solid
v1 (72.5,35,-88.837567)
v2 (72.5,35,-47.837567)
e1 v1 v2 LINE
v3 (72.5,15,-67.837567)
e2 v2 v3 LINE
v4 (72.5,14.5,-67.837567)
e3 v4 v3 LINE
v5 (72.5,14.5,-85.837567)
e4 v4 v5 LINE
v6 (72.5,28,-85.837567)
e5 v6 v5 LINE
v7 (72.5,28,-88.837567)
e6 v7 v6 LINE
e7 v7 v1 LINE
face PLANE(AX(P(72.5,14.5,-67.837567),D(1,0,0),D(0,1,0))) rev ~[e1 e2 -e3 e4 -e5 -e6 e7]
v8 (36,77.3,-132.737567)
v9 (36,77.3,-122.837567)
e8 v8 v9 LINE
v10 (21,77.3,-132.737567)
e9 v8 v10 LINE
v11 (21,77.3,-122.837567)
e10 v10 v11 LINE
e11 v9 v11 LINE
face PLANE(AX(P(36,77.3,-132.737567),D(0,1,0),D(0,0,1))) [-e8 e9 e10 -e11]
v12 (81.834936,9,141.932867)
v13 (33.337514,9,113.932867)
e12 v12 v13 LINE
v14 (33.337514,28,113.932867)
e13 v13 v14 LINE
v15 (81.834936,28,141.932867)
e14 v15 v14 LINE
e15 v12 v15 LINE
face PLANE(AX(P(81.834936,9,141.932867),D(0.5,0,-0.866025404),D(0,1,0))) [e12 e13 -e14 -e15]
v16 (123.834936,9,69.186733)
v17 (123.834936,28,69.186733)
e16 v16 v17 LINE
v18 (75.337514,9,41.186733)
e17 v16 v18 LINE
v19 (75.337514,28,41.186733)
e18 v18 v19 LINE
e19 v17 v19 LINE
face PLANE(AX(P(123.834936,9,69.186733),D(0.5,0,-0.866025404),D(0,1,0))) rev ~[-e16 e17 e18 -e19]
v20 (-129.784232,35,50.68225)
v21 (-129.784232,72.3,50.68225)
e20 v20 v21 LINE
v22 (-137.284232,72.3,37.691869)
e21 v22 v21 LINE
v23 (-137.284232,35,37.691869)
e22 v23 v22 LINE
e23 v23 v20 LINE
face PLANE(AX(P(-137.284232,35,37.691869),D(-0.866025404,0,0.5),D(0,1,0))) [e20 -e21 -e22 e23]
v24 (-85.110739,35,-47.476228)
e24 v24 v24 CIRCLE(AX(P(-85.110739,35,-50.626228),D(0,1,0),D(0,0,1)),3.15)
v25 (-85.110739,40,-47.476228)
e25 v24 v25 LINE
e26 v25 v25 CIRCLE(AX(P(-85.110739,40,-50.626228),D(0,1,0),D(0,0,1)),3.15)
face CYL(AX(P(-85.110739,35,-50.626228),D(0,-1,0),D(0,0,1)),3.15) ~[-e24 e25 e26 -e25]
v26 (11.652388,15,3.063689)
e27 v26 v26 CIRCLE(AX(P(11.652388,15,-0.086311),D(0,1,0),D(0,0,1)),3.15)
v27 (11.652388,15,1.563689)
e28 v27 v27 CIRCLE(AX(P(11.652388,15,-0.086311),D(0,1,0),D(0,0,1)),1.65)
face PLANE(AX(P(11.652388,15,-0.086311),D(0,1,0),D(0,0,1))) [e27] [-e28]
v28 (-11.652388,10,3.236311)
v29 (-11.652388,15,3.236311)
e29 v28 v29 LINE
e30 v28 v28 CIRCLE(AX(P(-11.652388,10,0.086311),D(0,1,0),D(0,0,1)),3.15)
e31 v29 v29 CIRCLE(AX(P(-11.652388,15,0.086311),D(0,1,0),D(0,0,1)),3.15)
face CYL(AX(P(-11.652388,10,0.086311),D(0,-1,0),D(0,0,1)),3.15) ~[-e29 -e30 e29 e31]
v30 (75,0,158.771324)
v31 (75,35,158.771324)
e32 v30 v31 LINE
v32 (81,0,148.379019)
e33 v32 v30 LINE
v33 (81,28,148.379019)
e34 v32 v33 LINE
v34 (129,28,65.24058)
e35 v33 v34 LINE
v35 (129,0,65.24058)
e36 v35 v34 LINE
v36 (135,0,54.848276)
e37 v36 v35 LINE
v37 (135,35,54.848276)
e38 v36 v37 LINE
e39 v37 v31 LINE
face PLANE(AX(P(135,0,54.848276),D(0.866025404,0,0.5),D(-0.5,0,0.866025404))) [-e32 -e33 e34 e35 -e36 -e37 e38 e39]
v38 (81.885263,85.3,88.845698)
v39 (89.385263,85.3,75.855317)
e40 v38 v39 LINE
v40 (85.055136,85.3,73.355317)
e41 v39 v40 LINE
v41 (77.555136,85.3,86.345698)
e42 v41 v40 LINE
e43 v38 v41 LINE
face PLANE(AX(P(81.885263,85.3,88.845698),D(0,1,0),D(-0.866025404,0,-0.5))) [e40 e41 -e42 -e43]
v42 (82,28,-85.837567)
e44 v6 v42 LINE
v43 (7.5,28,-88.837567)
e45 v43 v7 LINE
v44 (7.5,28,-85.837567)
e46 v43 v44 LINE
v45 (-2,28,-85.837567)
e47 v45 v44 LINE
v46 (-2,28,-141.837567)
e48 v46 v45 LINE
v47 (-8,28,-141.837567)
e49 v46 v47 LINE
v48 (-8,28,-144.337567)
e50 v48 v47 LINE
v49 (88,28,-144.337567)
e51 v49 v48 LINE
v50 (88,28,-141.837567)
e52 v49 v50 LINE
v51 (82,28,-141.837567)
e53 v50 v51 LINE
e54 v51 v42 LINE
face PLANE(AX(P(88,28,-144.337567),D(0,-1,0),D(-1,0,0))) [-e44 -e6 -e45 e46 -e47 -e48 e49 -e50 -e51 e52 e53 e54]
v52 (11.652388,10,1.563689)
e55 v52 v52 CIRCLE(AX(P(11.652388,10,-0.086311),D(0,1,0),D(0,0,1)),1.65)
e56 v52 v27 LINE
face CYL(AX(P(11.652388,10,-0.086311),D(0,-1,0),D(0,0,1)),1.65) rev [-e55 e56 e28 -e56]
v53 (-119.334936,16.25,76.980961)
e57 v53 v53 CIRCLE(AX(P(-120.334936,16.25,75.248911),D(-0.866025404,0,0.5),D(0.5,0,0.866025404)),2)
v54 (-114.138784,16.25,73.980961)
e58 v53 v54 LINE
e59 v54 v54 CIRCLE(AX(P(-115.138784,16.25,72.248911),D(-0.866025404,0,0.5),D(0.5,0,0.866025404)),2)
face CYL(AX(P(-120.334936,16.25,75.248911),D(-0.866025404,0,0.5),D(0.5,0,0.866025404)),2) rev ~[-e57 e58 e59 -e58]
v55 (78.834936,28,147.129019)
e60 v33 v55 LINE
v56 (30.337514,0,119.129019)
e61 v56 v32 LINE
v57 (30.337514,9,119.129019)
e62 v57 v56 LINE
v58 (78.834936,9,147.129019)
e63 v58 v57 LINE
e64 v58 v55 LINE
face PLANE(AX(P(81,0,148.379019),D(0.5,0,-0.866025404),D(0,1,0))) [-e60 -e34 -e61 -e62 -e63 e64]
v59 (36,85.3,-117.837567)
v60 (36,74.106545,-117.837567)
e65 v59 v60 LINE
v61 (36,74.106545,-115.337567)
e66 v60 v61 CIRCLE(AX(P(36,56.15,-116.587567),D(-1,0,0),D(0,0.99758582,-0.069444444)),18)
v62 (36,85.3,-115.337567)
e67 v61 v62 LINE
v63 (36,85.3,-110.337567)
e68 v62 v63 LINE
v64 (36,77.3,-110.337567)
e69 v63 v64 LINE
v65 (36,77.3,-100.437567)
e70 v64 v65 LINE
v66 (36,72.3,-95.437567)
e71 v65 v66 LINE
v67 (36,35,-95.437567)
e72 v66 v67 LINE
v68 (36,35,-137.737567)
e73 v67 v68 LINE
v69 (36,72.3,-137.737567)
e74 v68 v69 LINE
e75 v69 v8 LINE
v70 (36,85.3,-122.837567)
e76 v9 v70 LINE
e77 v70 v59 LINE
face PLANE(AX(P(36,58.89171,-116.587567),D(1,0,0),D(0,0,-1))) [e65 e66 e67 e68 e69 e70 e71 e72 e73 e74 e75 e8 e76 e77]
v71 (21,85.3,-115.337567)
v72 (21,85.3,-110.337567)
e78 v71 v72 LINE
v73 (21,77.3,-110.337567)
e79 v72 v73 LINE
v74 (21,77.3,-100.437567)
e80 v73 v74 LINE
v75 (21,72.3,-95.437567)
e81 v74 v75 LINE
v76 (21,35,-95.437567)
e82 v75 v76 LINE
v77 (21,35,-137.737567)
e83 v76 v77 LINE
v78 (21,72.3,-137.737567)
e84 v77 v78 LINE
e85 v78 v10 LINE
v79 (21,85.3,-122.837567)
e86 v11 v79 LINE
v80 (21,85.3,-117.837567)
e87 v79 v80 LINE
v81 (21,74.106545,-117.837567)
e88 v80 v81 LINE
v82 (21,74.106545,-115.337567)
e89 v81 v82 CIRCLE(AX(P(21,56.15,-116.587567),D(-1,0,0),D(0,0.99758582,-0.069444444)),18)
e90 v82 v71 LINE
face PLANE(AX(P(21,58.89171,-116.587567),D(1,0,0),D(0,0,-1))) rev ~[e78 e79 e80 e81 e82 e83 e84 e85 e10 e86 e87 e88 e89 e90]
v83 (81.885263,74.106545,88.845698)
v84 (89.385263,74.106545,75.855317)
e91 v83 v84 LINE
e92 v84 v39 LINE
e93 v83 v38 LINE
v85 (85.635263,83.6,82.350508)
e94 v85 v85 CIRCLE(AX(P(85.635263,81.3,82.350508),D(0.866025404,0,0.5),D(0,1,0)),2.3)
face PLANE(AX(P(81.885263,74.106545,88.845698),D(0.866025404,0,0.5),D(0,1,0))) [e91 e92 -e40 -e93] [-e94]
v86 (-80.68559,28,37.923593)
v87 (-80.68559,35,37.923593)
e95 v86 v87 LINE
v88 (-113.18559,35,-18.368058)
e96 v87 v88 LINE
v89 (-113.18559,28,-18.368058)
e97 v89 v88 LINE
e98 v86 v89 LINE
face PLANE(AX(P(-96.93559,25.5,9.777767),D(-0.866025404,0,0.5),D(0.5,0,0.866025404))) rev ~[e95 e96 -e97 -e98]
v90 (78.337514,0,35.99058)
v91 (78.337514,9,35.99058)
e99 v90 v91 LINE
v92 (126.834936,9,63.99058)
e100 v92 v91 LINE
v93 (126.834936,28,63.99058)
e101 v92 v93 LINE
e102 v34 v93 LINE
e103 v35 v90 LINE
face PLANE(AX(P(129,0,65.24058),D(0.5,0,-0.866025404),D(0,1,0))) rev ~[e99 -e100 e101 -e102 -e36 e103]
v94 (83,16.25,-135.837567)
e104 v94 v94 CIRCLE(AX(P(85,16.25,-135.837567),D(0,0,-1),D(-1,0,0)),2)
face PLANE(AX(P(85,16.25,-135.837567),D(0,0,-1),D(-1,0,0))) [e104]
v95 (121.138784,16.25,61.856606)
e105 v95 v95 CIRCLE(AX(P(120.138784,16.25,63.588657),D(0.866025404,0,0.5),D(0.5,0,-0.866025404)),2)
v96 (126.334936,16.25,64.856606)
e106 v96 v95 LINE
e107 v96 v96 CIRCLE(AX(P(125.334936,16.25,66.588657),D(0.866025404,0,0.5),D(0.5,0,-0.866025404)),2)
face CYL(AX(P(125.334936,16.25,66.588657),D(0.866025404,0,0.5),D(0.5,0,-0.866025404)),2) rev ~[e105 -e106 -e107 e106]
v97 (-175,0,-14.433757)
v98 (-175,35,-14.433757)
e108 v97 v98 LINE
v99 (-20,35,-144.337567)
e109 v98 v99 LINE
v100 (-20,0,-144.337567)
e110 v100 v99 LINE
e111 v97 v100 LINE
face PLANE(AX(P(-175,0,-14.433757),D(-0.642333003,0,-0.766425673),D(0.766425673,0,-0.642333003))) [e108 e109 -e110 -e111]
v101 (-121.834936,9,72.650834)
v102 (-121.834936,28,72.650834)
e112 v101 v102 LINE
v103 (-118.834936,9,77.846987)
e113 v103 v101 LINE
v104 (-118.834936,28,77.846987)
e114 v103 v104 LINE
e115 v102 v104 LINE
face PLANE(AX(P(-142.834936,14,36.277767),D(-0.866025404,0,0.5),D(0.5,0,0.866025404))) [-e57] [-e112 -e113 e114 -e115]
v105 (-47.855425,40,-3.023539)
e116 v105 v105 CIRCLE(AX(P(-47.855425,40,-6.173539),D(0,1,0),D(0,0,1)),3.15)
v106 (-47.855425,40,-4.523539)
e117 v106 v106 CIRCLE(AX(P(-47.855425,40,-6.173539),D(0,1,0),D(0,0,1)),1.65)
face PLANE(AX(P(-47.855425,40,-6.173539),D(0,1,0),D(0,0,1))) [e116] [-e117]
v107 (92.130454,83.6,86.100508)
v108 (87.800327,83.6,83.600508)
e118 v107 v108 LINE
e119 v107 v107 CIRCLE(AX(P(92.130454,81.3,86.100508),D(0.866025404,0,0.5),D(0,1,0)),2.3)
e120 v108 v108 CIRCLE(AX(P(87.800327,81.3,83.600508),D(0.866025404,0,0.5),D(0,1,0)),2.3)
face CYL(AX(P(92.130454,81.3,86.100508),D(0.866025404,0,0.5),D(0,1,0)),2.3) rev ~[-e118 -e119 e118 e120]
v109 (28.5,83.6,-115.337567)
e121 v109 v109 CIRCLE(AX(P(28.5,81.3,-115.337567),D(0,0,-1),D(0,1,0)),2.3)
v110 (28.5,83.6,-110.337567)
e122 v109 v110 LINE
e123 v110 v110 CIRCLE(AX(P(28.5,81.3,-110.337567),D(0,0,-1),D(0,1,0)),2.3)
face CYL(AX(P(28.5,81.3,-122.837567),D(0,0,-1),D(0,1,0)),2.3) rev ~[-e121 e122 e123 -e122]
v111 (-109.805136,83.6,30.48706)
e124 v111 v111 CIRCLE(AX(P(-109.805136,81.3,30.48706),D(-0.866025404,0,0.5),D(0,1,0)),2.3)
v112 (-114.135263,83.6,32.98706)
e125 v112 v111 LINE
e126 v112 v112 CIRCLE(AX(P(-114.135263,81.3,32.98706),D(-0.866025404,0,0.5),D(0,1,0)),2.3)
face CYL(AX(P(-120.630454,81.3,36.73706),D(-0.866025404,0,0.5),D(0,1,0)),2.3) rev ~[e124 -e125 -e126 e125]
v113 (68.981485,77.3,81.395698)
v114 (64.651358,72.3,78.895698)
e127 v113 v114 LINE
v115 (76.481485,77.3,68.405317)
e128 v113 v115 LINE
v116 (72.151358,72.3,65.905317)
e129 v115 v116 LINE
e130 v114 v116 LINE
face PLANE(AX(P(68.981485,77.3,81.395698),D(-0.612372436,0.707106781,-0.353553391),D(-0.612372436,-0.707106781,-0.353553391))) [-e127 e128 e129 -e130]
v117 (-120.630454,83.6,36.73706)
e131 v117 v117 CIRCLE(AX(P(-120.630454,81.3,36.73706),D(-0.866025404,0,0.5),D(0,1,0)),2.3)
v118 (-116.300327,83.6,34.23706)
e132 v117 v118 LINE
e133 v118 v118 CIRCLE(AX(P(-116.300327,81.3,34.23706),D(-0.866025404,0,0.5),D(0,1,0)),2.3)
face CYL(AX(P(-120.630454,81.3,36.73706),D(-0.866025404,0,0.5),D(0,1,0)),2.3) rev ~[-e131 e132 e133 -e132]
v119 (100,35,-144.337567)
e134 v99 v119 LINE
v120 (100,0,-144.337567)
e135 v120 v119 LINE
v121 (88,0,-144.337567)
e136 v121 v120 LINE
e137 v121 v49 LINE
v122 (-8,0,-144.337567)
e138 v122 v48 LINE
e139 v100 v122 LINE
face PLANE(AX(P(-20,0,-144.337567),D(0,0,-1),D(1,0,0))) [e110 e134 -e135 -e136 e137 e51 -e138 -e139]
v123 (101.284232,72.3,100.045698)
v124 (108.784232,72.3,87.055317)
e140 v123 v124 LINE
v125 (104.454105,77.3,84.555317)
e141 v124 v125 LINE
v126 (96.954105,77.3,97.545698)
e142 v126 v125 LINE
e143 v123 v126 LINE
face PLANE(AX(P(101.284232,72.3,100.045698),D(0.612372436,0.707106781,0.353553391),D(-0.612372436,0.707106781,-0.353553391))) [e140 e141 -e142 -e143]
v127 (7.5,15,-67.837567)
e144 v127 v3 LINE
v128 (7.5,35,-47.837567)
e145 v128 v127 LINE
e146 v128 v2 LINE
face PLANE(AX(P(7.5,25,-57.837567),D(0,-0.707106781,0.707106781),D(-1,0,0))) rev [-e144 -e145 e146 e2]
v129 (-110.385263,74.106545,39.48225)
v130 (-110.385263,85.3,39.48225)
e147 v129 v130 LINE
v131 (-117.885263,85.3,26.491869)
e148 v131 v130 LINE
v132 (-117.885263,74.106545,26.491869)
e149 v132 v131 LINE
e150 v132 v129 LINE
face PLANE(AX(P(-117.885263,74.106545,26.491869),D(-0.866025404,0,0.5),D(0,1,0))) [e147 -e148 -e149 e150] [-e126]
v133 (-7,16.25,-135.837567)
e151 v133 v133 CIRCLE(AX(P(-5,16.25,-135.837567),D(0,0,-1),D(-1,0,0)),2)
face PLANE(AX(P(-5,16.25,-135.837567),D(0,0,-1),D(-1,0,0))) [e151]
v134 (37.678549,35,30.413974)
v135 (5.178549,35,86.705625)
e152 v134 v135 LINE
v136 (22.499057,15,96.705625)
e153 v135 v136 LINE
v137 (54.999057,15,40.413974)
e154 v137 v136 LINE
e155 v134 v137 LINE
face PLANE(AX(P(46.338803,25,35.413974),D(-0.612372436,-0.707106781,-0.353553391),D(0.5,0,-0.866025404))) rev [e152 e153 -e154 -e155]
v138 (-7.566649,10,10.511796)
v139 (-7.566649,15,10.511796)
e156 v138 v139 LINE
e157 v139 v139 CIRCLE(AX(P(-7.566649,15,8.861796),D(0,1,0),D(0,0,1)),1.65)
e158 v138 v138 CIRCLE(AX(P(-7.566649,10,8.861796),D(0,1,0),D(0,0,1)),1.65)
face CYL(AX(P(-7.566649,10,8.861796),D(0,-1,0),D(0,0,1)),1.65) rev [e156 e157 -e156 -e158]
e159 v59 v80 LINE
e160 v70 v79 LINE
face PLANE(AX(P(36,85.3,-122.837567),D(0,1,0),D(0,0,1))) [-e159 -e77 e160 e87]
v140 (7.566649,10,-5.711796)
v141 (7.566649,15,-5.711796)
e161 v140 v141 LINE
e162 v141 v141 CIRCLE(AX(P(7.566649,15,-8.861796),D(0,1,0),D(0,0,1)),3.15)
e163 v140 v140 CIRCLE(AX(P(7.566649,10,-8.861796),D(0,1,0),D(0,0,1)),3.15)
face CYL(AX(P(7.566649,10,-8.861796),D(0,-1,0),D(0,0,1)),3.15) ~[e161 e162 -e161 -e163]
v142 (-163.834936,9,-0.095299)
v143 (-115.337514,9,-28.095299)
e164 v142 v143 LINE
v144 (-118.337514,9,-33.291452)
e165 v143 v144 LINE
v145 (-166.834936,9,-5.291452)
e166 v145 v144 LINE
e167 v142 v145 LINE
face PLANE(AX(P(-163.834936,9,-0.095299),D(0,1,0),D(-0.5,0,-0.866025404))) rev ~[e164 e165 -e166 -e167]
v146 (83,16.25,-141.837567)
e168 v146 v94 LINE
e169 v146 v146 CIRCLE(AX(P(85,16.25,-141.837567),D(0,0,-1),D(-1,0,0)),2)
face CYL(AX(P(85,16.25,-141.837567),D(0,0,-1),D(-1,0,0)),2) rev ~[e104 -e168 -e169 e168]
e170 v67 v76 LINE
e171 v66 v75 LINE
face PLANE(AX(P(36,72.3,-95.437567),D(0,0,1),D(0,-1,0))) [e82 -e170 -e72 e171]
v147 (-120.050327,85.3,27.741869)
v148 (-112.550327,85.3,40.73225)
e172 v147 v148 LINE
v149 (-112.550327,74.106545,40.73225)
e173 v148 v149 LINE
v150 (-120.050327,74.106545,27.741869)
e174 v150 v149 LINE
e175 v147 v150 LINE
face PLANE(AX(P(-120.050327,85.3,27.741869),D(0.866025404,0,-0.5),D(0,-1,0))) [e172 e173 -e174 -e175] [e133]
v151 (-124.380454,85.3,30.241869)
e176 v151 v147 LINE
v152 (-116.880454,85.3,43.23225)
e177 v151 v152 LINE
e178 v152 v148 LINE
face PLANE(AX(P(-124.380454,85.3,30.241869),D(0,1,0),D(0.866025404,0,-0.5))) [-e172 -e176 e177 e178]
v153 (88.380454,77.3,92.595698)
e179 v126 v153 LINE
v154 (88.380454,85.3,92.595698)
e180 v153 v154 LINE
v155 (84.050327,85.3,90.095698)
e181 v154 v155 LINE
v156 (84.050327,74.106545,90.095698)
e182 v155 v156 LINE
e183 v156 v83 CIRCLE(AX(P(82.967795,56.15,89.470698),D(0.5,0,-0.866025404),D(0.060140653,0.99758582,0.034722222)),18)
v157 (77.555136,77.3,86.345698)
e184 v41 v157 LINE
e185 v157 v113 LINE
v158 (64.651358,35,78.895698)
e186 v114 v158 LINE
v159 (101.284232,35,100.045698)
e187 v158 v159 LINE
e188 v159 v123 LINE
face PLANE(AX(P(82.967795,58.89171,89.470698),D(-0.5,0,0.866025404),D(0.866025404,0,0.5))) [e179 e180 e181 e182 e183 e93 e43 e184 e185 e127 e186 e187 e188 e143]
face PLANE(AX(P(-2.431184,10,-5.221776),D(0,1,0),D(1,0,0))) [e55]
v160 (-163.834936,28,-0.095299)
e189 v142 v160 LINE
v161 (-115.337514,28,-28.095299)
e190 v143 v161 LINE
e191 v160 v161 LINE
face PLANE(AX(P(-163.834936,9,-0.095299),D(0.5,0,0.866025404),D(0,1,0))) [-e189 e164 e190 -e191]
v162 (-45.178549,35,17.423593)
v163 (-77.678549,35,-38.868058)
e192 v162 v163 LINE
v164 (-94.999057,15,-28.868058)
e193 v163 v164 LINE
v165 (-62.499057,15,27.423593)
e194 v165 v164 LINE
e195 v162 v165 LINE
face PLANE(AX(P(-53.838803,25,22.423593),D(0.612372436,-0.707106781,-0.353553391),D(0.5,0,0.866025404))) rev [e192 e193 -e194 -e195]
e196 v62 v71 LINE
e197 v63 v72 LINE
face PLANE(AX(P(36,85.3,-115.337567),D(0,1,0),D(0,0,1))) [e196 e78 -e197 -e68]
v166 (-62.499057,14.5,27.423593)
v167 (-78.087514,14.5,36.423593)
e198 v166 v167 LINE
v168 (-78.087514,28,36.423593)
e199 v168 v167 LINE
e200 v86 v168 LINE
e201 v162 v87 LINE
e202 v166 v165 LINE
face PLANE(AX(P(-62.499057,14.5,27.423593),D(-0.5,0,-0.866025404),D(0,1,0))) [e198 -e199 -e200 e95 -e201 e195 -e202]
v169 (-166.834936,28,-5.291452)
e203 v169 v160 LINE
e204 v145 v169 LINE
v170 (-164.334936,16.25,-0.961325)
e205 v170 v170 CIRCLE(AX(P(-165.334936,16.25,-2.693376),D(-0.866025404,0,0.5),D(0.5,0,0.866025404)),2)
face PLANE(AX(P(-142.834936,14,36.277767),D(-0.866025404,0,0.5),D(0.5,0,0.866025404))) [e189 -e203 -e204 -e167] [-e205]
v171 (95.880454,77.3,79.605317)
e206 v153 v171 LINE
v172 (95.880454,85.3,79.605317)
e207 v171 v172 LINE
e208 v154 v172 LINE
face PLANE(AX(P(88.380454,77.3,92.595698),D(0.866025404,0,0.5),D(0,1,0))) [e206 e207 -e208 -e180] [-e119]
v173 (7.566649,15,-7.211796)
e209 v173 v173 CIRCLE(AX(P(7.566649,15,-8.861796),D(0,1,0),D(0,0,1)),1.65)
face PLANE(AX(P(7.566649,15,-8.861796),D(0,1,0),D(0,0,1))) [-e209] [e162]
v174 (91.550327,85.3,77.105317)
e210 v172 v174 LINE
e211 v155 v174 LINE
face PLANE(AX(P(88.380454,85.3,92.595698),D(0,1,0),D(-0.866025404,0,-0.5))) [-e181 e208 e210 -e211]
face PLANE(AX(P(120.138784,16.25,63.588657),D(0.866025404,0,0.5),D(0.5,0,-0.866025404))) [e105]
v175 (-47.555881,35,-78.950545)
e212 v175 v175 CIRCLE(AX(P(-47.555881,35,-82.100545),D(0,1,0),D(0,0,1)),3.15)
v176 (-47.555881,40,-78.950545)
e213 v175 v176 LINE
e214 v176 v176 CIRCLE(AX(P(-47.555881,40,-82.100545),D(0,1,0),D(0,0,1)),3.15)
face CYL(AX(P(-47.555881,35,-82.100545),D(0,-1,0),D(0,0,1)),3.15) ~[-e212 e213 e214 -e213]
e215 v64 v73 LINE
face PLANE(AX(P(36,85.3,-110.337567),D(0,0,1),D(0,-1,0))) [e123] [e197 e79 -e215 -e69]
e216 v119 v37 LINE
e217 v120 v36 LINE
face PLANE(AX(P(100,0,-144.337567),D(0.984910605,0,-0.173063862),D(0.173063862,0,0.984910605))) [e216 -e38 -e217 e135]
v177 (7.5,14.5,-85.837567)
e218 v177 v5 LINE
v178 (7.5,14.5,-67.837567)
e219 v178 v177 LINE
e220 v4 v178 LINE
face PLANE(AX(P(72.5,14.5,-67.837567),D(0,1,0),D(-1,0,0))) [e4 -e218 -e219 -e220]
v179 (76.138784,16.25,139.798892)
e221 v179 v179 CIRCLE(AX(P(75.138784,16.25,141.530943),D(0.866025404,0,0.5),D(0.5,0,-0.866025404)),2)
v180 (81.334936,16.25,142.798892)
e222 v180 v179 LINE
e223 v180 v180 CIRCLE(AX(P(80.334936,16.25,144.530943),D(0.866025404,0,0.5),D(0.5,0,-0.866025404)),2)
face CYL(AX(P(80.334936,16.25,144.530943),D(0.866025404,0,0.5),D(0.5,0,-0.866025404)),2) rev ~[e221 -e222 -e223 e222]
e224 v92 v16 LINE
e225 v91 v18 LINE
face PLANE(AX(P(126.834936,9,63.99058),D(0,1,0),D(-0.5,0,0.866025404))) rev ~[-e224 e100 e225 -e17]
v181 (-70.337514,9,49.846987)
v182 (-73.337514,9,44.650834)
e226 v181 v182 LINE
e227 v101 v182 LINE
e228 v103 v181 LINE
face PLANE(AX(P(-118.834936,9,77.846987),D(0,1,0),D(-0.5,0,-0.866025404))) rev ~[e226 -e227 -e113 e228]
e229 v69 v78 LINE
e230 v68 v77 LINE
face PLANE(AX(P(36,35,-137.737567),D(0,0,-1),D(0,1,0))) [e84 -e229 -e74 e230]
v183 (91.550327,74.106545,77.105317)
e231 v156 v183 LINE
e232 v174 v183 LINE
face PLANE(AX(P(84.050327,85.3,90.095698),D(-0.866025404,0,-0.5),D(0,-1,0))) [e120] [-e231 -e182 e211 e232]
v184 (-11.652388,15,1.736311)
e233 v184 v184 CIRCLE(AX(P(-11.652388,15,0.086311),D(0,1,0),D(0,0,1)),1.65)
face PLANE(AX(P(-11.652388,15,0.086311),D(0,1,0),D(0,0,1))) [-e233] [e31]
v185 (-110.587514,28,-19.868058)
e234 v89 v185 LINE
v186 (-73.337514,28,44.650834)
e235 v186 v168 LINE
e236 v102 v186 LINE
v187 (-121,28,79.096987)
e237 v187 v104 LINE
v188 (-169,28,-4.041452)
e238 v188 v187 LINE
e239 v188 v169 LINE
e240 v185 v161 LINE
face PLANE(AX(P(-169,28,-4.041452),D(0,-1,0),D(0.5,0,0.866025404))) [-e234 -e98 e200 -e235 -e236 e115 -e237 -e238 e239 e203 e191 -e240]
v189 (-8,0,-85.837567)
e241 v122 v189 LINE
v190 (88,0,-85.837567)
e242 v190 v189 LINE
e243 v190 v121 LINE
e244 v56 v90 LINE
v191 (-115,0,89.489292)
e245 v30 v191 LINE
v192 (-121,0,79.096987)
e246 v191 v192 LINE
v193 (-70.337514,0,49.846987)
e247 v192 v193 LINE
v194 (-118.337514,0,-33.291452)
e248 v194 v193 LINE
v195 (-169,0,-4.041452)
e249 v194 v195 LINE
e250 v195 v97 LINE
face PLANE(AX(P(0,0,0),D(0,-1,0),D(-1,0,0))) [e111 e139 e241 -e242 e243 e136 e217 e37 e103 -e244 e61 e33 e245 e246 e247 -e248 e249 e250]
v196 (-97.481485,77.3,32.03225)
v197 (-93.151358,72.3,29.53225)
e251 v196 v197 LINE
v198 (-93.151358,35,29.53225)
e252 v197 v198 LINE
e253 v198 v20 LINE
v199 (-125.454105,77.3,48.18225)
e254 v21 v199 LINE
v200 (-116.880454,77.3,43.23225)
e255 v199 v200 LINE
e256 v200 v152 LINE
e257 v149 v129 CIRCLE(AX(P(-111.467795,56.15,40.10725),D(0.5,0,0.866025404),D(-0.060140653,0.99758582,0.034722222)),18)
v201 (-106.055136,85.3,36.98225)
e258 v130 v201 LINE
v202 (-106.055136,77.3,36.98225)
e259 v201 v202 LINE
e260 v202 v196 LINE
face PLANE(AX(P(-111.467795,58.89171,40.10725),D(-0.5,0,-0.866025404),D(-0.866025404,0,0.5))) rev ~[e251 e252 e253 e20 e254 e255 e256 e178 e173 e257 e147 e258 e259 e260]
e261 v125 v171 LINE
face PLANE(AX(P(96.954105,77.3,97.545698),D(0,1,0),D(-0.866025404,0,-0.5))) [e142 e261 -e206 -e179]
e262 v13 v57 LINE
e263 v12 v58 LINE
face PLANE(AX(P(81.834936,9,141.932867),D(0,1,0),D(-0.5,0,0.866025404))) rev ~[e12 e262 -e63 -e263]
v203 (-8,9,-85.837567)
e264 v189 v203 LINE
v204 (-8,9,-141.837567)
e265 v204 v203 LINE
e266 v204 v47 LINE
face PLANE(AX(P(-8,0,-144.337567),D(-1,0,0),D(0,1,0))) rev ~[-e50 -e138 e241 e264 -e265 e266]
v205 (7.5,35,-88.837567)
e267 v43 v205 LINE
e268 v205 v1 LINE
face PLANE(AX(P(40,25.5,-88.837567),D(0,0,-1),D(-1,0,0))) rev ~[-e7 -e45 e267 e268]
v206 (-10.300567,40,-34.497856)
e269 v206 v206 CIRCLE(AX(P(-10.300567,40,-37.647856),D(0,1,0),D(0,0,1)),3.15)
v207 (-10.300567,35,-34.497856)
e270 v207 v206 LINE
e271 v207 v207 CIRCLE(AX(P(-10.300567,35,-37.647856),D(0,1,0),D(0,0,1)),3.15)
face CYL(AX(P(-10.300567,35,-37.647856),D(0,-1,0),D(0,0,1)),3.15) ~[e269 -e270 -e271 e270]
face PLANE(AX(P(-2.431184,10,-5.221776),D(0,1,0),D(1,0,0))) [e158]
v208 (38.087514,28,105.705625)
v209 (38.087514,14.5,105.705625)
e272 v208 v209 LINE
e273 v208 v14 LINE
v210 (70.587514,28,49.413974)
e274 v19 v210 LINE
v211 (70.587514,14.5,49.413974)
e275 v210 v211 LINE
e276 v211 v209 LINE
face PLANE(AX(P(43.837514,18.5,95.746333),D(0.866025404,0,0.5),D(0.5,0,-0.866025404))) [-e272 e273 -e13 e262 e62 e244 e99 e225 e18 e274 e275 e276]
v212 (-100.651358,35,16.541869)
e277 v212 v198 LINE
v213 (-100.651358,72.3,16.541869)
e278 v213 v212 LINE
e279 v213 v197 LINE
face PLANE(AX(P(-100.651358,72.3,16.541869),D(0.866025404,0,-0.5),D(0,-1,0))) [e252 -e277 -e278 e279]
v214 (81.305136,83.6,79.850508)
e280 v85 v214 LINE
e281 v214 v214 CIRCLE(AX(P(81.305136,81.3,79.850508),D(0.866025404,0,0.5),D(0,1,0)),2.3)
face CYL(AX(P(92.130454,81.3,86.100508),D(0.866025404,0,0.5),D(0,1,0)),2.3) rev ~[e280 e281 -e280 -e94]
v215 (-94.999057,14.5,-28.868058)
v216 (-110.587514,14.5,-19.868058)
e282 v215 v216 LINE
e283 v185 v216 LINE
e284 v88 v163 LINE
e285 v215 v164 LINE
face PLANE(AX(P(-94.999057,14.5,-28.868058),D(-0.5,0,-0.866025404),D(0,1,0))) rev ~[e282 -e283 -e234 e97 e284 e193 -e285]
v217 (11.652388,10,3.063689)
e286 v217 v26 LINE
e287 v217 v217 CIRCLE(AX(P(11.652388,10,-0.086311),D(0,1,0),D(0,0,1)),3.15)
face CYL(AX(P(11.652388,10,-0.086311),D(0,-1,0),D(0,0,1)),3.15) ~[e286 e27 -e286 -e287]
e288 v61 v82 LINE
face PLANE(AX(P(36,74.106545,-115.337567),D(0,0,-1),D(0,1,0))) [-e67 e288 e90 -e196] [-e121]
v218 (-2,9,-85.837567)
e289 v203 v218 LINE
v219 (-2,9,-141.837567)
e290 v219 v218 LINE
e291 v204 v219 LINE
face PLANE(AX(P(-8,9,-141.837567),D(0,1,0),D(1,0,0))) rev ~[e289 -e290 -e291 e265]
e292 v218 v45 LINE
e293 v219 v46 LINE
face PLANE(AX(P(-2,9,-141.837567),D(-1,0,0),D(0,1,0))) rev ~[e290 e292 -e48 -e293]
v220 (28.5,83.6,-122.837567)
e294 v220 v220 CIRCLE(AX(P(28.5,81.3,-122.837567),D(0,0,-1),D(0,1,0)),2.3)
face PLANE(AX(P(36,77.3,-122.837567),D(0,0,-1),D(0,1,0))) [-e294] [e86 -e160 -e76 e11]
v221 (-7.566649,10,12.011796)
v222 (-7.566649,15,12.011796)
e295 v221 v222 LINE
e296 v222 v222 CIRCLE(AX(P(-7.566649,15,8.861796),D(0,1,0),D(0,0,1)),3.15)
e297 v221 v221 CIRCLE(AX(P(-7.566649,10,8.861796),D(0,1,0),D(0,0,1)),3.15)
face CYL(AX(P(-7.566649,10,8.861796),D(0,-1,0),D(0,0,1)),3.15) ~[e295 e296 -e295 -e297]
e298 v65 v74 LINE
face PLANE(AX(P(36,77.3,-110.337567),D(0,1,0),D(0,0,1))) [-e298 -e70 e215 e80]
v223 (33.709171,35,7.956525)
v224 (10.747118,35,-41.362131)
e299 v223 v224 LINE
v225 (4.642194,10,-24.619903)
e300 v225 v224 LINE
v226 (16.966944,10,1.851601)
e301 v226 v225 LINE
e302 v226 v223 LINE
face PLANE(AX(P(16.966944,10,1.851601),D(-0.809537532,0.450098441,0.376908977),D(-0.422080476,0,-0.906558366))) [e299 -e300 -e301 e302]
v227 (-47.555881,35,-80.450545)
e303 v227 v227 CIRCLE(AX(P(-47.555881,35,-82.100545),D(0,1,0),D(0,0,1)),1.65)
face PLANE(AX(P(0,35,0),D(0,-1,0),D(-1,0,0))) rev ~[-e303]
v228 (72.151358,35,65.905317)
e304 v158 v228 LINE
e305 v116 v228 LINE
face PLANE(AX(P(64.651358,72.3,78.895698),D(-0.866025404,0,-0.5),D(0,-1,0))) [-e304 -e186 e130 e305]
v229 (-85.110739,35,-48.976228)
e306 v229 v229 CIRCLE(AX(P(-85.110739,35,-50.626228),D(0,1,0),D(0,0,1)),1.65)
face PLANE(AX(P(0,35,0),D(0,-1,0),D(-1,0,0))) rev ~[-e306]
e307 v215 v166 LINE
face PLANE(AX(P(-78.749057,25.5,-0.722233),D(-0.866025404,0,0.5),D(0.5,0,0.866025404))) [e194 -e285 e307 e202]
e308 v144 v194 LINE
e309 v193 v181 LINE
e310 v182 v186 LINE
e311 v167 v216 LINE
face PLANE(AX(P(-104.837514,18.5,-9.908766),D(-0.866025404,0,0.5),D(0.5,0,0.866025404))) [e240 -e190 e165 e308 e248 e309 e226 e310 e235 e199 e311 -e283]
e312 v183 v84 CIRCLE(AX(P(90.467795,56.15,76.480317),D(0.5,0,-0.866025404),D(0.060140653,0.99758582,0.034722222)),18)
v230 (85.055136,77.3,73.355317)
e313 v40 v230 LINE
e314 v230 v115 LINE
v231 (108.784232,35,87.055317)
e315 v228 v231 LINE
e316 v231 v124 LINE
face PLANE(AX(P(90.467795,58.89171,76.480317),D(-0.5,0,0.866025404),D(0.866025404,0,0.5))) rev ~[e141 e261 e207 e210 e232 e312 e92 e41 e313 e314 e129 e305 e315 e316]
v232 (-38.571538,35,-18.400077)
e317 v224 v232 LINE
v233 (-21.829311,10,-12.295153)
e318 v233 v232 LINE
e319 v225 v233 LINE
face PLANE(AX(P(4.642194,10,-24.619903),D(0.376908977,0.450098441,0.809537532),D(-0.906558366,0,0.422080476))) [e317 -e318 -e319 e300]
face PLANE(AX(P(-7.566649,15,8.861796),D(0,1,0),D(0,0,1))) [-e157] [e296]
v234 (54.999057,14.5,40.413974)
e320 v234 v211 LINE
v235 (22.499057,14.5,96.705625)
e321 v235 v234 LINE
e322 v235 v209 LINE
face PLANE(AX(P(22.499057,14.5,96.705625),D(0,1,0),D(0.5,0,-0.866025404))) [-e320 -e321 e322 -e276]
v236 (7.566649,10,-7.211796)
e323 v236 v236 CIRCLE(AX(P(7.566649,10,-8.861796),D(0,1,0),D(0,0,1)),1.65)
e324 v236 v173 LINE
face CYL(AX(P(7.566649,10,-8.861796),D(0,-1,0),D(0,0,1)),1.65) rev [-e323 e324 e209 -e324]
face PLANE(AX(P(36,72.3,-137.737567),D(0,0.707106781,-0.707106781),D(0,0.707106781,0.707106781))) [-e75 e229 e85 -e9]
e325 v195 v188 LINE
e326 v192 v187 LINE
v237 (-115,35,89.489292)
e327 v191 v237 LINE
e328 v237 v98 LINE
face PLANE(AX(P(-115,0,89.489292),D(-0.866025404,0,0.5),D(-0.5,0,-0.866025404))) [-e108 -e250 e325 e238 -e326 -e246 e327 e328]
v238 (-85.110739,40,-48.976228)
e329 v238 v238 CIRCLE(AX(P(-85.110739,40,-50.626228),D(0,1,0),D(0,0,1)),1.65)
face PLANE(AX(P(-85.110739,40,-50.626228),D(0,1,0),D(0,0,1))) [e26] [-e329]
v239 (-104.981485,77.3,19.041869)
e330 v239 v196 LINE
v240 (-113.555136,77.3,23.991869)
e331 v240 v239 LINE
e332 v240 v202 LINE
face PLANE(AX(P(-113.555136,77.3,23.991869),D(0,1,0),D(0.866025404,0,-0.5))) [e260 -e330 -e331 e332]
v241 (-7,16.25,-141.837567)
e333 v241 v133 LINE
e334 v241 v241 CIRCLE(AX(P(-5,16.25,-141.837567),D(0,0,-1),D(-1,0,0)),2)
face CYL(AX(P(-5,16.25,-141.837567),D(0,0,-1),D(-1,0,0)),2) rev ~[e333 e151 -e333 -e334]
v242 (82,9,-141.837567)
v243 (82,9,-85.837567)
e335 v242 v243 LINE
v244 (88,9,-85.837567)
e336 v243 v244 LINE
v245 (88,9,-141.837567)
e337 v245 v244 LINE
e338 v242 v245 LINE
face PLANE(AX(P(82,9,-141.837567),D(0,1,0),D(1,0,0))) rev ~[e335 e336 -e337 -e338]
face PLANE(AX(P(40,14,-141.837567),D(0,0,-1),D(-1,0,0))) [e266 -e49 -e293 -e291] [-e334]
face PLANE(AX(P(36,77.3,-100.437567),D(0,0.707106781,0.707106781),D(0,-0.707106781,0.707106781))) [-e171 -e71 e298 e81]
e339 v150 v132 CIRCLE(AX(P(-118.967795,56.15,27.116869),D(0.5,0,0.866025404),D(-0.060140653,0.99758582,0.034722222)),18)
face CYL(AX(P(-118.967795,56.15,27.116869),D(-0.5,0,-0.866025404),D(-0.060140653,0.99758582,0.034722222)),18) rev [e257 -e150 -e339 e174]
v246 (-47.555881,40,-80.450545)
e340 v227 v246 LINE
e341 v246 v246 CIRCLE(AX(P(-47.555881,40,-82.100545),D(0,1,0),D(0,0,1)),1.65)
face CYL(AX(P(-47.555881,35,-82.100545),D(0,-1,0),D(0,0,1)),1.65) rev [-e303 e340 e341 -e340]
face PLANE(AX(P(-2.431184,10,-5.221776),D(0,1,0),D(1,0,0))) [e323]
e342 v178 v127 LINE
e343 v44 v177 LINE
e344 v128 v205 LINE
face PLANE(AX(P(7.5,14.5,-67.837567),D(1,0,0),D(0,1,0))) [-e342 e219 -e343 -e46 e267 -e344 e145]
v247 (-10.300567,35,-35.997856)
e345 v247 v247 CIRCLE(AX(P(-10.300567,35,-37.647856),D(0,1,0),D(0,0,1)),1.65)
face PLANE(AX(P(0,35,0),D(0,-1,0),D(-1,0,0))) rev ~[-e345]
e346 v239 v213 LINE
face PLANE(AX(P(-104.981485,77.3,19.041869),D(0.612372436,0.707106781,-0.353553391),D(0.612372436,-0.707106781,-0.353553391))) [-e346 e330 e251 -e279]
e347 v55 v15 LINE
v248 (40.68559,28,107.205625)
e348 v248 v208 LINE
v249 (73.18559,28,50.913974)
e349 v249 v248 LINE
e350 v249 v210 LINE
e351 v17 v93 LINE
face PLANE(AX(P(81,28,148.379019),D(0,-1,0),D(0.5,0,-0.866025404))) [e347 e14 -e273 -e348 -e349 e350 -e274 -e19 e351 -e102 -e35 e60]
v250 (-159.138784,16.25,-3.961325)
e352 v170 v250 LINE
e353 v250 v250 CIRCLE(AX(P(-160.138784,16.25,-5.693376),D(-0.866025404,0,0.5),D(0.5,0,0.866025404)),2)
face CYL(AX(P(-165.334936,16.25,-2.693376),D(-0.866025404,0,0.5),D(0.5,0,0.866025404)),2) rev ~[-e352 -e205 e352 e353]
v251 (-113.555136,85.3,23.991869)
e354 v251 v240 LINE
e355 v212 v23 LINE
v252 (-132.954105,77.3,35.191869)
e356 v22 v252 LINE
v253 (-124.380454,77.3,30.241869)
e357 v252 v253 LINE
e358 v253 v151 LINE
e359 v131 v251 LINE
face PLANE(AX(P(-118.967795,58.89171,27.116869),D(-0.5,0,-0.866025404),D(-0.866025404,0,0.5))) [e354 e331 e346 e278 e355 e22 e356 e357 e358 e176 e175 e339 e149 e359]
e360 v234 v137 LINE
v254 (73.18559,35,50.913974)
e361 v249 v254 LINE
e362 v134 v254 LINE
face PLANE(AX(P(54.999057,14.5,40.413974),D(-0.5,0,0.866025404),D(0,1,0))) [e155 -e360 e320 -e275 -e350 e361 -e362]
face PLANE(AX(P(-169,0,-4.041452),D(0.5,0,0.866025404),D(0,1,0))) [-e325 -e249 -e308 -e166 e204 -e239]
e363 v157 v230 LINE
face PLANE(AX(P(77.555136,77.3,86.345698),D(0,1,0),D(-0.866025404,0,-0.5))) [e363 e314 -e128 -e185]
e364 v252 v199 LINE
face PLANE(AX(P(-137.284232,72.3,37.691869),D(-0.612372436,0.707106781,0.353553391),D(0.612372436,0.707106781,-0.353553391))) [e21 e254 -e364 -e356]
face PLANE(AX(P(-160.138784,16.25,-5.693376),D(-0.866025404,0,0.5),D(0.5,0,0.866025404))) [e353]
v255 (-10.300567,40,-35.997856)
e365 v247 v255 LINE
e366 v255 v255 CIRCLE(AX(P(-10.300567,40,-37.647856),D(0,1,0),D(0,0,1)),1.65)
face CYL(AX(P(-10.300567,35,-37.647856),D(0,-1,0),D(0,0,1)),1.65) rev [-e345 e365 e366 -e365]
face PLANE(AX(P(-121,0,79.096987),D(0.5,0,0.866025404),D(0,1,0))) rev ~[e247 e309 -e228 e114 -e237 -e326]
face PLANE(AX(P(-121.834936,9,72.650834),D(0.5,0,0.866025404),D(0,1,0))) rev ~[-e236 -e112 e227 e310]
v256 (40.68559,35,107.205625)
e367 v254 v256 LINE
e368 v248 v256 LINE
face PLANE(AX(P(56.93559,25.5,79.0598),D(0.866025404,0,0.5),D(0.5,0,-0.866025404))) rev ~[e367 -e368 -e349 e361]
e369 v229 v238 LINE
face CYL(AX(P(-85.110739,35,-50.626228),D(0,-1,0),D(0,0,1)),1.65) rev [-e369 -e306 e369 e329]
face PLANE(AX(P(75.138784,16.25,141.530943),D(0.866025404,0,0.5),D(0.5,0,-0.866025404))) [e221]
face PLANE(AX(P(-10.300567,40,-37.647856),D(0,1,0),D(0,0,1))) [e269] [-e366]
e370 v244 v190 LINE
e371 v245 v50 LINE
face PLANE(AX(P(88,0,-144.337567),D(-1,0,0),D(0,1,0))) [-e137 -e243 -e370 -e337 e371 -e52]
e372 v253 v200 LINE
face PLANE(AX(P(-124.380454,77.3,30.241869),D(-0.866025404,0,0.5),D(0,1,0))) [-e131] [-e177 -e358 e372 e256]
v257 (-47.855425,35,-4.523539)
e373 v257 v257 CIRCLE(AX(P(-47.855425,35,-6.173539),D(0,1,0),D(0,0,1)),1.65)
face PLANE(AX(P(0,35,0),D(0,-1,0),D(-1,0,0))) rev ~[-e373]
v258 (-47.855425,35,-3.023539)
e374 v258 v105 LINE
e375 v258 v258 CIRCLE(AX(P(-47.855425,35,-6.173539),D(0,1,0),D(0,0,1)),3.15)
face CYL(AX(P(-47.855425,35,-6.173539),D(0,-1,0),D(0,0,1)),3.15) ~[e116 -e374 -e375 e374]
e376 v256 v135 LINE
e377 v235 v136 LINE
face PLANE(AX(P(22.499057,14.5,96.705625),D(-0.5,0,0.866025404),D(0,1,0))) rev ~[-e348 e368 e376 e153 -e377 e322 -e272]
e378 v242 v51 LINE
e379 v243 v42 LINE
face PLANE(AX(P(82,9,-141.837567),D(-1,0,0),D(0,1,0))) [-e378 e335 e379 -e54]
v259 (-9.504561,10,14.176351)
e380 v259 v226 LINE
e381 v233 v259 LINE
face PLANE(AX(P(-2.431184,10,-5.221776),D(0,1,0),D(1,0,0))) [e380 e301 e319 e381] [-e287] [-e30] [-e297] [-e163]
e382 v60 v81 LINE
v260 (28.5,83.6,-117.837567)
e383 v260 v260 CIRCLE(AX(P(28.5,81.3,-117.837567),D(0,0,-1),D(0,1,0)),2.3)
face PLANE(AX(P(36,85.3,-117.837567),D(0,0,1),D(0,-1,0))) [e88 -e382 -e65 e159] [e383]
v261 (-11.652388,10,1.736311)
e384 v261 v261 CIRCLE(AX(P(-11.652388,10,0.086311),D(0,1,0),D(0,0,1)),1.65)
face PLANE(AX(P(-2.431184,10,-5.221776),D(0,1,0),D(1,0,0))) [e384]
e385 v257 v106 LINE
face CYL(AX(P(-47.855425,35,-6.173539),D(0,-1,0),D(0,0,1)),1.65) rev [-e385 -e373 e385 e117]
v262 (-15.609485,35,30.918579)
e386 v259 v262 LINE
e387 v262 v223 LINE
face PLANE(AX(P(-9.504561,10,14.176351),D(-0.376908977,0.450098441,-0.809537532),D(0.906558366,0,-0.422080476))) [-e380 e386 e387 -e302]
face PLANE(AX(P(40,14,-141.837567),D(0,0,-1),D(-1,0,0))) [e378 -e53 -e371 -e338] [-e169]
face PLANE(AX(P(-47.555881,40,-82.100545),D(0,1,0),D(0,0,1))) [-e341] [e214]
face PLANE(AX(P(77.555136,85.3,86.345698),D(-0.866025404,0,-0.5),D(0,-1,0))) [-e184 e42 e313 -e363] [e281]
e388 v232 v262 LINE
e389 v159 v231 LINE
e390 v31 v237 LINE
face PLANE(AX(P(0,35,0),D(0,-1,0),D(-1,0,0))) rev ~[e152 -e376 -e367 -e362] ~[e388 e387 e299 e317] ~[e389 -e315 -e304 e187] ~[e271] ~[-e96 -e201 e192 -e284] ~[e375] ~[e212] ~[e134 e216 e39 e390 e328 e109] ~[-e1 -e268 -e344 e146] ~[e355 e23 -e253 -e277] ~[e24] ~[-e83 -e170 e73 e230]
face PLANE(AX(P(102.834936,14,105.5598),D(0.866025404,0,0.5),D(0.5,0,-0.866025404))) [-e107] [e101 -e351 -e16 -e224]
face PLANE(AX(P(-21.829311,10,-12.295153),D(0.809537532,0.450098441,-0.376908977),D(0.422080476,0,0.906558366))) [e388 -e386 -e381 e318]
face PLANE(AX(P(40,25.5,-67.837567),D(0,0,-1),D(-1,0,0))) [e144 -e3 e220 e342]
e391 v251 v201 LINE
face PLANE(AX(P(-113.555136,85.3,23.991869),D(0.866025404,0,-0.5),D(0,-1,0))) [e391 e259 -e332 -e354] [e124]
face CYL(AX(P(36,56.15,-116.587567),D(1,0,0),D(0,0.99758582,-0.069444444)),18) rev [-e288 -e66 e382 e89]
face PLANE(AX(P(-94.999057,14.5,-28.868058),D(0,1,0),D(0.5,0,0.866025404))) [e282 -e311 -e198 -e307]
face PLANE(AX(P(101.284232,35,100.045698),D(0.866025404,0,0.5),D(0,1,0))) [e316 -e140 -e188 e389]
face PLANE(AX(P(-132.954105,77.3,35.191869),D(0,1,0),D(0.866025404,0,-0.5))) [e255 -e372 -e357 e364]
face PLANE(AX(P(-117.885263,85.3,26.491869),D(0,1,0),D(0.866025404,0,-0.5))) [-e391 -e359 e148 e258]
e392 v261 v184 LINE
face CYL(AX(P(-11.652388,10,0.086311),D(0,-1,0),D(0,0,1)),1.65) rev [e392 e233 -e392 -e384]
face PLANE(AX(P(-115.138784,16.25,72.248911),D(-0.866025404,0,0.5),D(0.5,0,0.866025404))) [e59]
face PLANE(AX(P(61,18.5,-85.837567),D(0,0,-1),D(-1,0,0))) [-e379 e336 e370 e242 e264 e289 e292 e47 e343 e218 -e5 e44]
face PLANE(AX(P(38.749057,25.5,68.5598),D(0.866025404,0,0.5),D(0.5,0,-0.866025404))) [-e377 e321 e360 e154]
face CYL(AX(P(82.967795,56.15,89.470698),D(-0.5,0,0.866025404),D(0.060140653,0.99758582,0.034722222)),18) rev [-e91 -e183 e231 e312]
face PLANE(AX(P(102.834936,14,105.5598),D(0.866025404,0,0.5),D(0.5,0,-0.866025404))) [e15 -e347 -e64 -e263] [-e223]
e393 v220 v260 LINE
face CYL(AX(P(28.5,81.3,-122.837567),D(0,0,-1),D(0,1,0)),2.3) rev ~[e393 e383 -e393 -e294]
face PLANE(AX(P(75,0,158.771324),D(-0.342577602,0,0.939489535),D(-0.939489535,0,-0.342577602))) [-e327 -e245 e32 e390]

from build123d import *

# Parameters (mm, degrees)
BOSS_EXTRUDE1_DEPTH                     = 35
SKETCH2_W                               = 96
SKETCH2_H                               = 28
CUT_EXTRUDE1_DEPTH                      = 2.5
SKETCH3_W                               = 42
SKETCH3_H                               = 19
CUT_EXTRUDE2_DEPTH                      = 56
SKETCH4_R                               = 2
CUT_EXTRUDE3_DEPTH                      = 6
CUT_EXTRUDE4_START                      = -18
SKETCH5_W                               = 65
SKETCH5_H                               = 22
CUT_EXTRUDE4_DEPTH                      = 21
CHAMFER2_SIZE                           = 20
BOSS_EXTRUDE4_DEPTH                     = 15
CUT_EXTRUDE5_REACH                      = 344.352
SKETCH10_R                              = 2.3
MOTOR_DRIVER_PATTERNED_COUNT            = 3
CHAMFER2_OF_MOTOR_DRIVER_PATTERNED_SIZE = 20
CUT_EXTRUDE6_DEPTH                      = 25
CUT_EXTRUDE6_DRAFT                      = -26.75
SKETCH11_R                              = 3.15
SKETCH11_R_2                            = 1.65
RASPBERRYPI5_STANDOFF_DEPTH             = 5
SKETCH13_R                              = 3.15
SKETCH13_R_2                            = 1.65
BOSS_EXTRUDE6_DEPTH                     = 5


with BuildPart() as part:
    # Sketch1 → Boss-Extrude1 (new body)
    with BuildSketch(Plane(origin=(0, 0, 0), x_dir=(1, 0, 0), z_dir=(0, 1, 0))):
        Polygon((-20, 144.337567297), (100, 144.337567297), (135, -54.848275573), (75, -158.771324027), (-115, -89.489291724), (-175, 14.43375673), align=None)
    extrude(amount=BOSS_EXTRUDE1_DEPTH)

    # Sketch2 → Cut-Extrude1 (cut)
    with BuildSketch(Plane(origin=(0, 0, -144.337567297), x_dir=(-1, 0, 0), z_dir=(0, 0, -1))):
        with Locations((-40, 14)):
            Rectangle(SKETCH2_W, SKETCH2_H)
    cut_extrude1 = extrude(amount=-CUT_EXTRUDE1_DEPTH, mode=Mode.SUBTRACT)

    # Sketch3 → Cut-Extrude2 (cut)
    with BuildSketch(Plane(origin=(0, 0, -141.837567297), x_dir=(-1, 0, 0), z_dir=(0, 0, -1))):
        with Locations((-61, 18.5)):
            Rectangle(SKETCH3_W, SKETCH3_H)
        with Locations((-19, 18.5)):
            Rectangle(SKETCH3_W, SKETCH3_H)
        Polygon((-88, 9), (-88, 0), (8, 0), (8, 9), (2, 9), (-40, 9), (-82, 9), align=None)
    cut_extrude2 = extrude(amount=-CUT_EXTRUDE2_DEPTH, mode=Mode.SUBTRACT)

    # Sketch4 → Cut-Extrude3 (cut)
    with BuildSketch(Plane(origin=(0, 0, -141.837567297), x_dir=(-1, 0, 0), z_dir=(0, 0, -1))):
        with Locations((-85, 16.25)):
            Circle(SKETCH4_R)
        with Locations((5, 16.25)):
            Circle(SKETCH4_R)
    cut_extrude3 = extrude(amount=-CUT_EXTRUDE3_DEPTH, mode=Mode.SUBTRACT)

    # Sketch5 → Cut-Extrude4 (cut)
    with BuildSketch(Plane(origin=(0, 0, -85.837567297), x_dir=(-1, 0, 0), z_dir=(0, 0, -1)).offset(CUT_EXTRUDE4_START)):
        with Locations((-40, 25.5)):
            Rectangle(SKETCH5_W, SKETCH5_H)
    cut_extrude4 = extrude(amount=CUT_EXTRUDE4_DEPTH, mode=Mode.SUBTRACT)

    # Chamfer2
    chamfer2_edges = [part.edges().sort_by_distance(p)[0] for p in [
        (40, 35, -67.837567297),
    ]]
    chamfer(chamfer2_edges, length=CHAMFER2_SIZE)

    # Sketch7 → Boss-Extrude4 (add)
    with BuildSketch(Plane(origin=(36, 0, 0), x_dir=(0, 0, -1), z_dir=(1, 0, 0))):
        with BuildLine():
            Line((95.437567297, 72.3), (95.437567297, 35))
            Line((95.437567297, 35), (137.737567297, 35))
            Line((137.737567297, 35), (137.737567297, 72.3))
            Line((137.737567297, 72.3), (132.737567297, 77.3))
            Line((132.737567297, 77.3), (122.837567297, 77.3))
            Line((122.837567297, 77.3), (122.837567297, 85.3))
            Line((122.837567297, 85.3), (117.837567297, 85.3))
            Line((117.837567297, 85.3), (117.837567297, 74.106544768))
            ThreePointArc((117.837567297, 74.106544768), (116.587567297, 38.15), (115.337567297, 74.106544768))
            Line((115.337567297, 74.106544768), (115.337567297, 85.3))
            Line((115.337567297, 85.3), (110.337567297, 85.3))
            Line((110.337567297, 85.3), (110.337567297, 77.3))
            Line((110.337567297, 77.3), (100.437567297, 77.3))
            Line((100.437567297, 77.3), (95.437567297, 72.3))
        make_face()
    boss_extrude4 = extrude(amount=-BOSS_EXTRUDE4_DEPTH)

    # Cut-Extrude5: up to this face of the body (flat: up to its plane)
    cut_extrude5_end = Plane(part.part.faces().sort_by_distance((28.5, 81.3, -110.337567297))[0])
    # Sketch10 → Cut-Extrude5 (cut, up to the picked face)
    with BuildSketch(Plane(origin=(0, 0, -122.837567297), x_dir=(-1, 0, 0), z_dir=(0, 0, -1)), mode=Mode.PRIVATE) as cut_extrude5_sk1:
        with Locations(Location((-28.5, 81.3, 0), (0, 0, 90))):
            Circle(SKETCH10_R)
    cut_extrude5_tool1 = split(extrude(cut_extrude5_sk1.sketch, amount=-CUT_EXTRUDE5_REACH, mode=Mode.PRIVATE), bisect_by=cut_extrude5_end, keep=Keep.BOTH, mode=Mode.PRIVATE)
    cut_extrude5 = cut_extrude5_tool1.solids().sort_by(Axis((28.5, 81.3, -122.837567), (0, 0, 1)))[0]
    add(cut_extrude5, mode=Mode.SUBTRACT)

    # Motor/Driver Patterned: Cut-Extrude1, Cut-Extrude2, Cut-Extrude3, Cut-Extrude4, Boss-Extrude4, Cut-Extrude5 ×3 about axis
    motor_driver_patterned_axis = Axis((0, 0, 0), (0, 1, 0))
    add([cut_extrude1.rotate(motor_driver_patterned_axis, i * 360 / MOTOR_DRIVER_PATTERNED_COUNT) for i in range(1, MOTOR_DRIVER_PATTERNED_COUNT)], mode=Mode.SUBTRACT)
    add([cut_extrude2.rotate(motor_driver_patterned_axis, i * 360 / MOTOR_DRIVER_PATTERNED_COUNT) for i in range(1, MOTOR_DRIVER_PATTERNED_COUNT)], mode=Mode.SUBTRACT)
    add([cut_extrude3.rotate(motor_driver_patterned_axis, i * 360 / MOTOR_DRIVER_PATTERNED_COUNT) for i in range(1, MOTOR_DRIVER_PATTERNED_COUNT)], mode=Mode.SUBTRACT)
    add([cut_extrude4.rotate(motor_driver_patterned_axis, i * 360 / MOTOR_DRIVER_PATTERNED_COUNT) for i in range(1, MOTOR_DRIVER_PATTERNED_COUNT)], mode=Mode.SUBTRACT)
    add([boss_extrude4.rotate(motor_driver_patterned_axis, i * 360 / MOTOR_DRIVER_PATTERNED_COUNT) for i in range(1, MOTOR_DRIVER_PATTERNED_COUNT)])
    add([cut_extrude5.rotate(motor_driver_patterned_axis, i * 360 / MOTOR_DRIVER_PATTERNED_COUNT) for i in range(1, MOTOR_DRIVER_PATTERNED_COUNT)], mode=Mode.SUBTRACT)

    # Chamfer2 of Motor/Driver Patterned
    chamfer2_of_motor_driver_patterned_edges = [part.edges().sort_by_distance(p)[0] for p in [
        (-78.74905661, 35, -0.722232503),
        (38.74905661, 35, 68.5597998),
    ]]
    chamfer(chamfer2_of_motor_driver_patterned_edges, length=CHAMFER2_OF_MOTOR_DRIVER_PATTERNED_SIZE)


with BuildPart() as cut_extrude6_tool:
    # Sketch16 → Cut-Extrude6 (with draft: the straight prism first)
    with BuildSketch(Plane(origin=(0, 10, 0), x_dir=(1, 0, 0), z_dir=(0, 1, 0))):
        Polygon((4.64219366, 24.61990329), (-21.829310641, 12.295153393), (-9.504560743, -14.176350908), (16.966943558, -1.851601011), align=None)
    extrude(amount=CUT_EXTRUDE6_DEPTH)
    # Cut-Extrude6: the draft: its side faces are tilted about the plane it starts from
    cut_extrude6_sides = [cut_extrude6_tool.faces().sort_by_distance(p)[0] for p in [
        (-8.59355849, 22.5, -18.457528341),
        (-15.666935692, 22.5, 0.940598758),
        (3.731191407, 22.5, 8.01397596),
        (10.804568609, 22.5, -11.38415114),
    ]]
    draft(cut_extrude6_sides, Plane(origin=(0, 10, 0), x_dir=(1, 0, 0), z_dir=(0, 1, 0)), CUT_EXTRUDE6_DRAFT)


with BuildPart() as part_1:
    add(part.part)

    # Cut-Extrude6: cut by cut_extrude6_tool
    add(cut_extrude6_tool.part, mode=Mode.SUBTRACT)

    # Sketch11 → RaspberryPi5 Standoff (add)
    # profile 1 of 4: a face of its own
    with BuildSketch(Plane(origin=(0, 35, 0), x_dir=(1, 0, 0), z_dir=(0, 1, 0))):
        with Locations(Location((-10.300566951, 37.647855731, 0), (0, 0, 270))):
            Circle(SKETCH11_R)
        with Locations(Location((-10.300566951, 37.647855731, 0), (0, 0, 270))):
            Circle(SKETCH11_R_2, mode=Mode.SUBTRACT)
    # profile 2 of 4: a face of its own
    with BuildSketch(Plane(origin=(0, 35, 0), x_dir=(1, 0, 0), z_dir=(0, 1, 0))):
        with Locations(Location((-47.555881138, 82.100544792, 0), (0, 0, 270))):
            Circle(SKETCH11_R)
        with Locations(Location((-47.555881138, 82.100544792, 0), (0, 0, 270))):
            Circle(SKETCH11_R_2, mode=Mode.SUBTRACT)
    # profile 3 of 4: a face of its own
    with BuildSketch(Plane(origin=(0, 35, 0), x_dir=(1, 0, 0), z_dir=(0, 1, 0))):
        with Locations(Location((-85.110739139, 50.626227634, 0), (0, 0, 270))):
            Circle(SKETCH11_R)
        with Locations(Location((-85.110739139, 50.626227634, 0), (0, 0, 270))):
            Circle(SKETCH11_R_2, mode=Mode.SUBTRACT)
    # profile 4 of 4: a face of its own
    with BuildSketch(Plane(origin=(0, 35, 0), x_dir=(1, 0, 0), z_dir=(0, 1, 0))):
        with Locations(Location((-47.855424951, 6.173538573, 0), (0, 0, 270))):
            Circle(SKETCH11_R)
        with Locations(Location((-47.855424951, 6.173538573, 0), (0, 0, 270))):
            Circle(SKETCH11_R_2, mode=Mode.SUBTRACT)
    extrude(amount=RASPBERRYPI5_STANDOFF_DEPTH)

    # Sketch13 → Boss-Extrude6 (add)
    # profile 1 of 4: a face of its own
    with BuildSketch(Plane(origin=(0, 10, 0), x_dir=(1, 0, 0), z_dir=(0, 1, 0))):
        with Locations(Location((7.566649181, 8.861795539, 0), (0, 0, 270))):
            Circle(SKETCH13_R)
        with Locations(Location((7.566649181, 8.861795539, 0), (0, 0, 270))):
            Circle(SKETCH13_R_2, mode=Mode.SUBTRACT)
    # profile 2 of 4: a face of its own
    with BuildSketch(Plane(origin=(0, 10, 0), x_dir=(1, 0, 0), z_dir=(0, 1, 0))):
        with Locations(Location((-11.652388188, -0.086310551, 0), (0, 0, 270))):
            Circle(SKETCH13_R)
        with Locations(Location((-11.652388188, -0.086310551, 0), (0, 0, 270))):
            Circle(SKETCH13_R_2, mode=Mode.SUBTRACT)
    # profile 3 of 4: a face of its own
    with BuildSketch(Plane(origin=(0, 10, 0), x_dir=(1, 0, 0), z_dir=(0, 1, 0))):
        with Locations(Location((-7.566649181, -8.861795539, 0), (0, 0, 270))):
            Circle(SKETCH13_R)
        with Locations(Location((-7.566649181, -8.861795539, 0), (0, 0, 270))):
            Circle(SKETCH13_R_2, mode=Mode.SUBTRACT)
    # profile 4 of 4: a face of its own
    with BuildSketch(Plane(origin=(0, 10, 0), x_dir=(1, 0, 0), z_dir=(0, 1, 0))):
        with Locations(Location((11.652388188, 0.086310551, 0), (0, 0, 270))):
            Circle(SKETCH13_R)
        with Locations(Location((11.652388188, 0.086310551, 0), (0, 0, 270))):
            Circle(SKETCH13_R_2, mode=Mode.SUBTRACT)
    extrude(amount=BOSS_EXTRUDE6_DEPTH)


solid = part_1.part
